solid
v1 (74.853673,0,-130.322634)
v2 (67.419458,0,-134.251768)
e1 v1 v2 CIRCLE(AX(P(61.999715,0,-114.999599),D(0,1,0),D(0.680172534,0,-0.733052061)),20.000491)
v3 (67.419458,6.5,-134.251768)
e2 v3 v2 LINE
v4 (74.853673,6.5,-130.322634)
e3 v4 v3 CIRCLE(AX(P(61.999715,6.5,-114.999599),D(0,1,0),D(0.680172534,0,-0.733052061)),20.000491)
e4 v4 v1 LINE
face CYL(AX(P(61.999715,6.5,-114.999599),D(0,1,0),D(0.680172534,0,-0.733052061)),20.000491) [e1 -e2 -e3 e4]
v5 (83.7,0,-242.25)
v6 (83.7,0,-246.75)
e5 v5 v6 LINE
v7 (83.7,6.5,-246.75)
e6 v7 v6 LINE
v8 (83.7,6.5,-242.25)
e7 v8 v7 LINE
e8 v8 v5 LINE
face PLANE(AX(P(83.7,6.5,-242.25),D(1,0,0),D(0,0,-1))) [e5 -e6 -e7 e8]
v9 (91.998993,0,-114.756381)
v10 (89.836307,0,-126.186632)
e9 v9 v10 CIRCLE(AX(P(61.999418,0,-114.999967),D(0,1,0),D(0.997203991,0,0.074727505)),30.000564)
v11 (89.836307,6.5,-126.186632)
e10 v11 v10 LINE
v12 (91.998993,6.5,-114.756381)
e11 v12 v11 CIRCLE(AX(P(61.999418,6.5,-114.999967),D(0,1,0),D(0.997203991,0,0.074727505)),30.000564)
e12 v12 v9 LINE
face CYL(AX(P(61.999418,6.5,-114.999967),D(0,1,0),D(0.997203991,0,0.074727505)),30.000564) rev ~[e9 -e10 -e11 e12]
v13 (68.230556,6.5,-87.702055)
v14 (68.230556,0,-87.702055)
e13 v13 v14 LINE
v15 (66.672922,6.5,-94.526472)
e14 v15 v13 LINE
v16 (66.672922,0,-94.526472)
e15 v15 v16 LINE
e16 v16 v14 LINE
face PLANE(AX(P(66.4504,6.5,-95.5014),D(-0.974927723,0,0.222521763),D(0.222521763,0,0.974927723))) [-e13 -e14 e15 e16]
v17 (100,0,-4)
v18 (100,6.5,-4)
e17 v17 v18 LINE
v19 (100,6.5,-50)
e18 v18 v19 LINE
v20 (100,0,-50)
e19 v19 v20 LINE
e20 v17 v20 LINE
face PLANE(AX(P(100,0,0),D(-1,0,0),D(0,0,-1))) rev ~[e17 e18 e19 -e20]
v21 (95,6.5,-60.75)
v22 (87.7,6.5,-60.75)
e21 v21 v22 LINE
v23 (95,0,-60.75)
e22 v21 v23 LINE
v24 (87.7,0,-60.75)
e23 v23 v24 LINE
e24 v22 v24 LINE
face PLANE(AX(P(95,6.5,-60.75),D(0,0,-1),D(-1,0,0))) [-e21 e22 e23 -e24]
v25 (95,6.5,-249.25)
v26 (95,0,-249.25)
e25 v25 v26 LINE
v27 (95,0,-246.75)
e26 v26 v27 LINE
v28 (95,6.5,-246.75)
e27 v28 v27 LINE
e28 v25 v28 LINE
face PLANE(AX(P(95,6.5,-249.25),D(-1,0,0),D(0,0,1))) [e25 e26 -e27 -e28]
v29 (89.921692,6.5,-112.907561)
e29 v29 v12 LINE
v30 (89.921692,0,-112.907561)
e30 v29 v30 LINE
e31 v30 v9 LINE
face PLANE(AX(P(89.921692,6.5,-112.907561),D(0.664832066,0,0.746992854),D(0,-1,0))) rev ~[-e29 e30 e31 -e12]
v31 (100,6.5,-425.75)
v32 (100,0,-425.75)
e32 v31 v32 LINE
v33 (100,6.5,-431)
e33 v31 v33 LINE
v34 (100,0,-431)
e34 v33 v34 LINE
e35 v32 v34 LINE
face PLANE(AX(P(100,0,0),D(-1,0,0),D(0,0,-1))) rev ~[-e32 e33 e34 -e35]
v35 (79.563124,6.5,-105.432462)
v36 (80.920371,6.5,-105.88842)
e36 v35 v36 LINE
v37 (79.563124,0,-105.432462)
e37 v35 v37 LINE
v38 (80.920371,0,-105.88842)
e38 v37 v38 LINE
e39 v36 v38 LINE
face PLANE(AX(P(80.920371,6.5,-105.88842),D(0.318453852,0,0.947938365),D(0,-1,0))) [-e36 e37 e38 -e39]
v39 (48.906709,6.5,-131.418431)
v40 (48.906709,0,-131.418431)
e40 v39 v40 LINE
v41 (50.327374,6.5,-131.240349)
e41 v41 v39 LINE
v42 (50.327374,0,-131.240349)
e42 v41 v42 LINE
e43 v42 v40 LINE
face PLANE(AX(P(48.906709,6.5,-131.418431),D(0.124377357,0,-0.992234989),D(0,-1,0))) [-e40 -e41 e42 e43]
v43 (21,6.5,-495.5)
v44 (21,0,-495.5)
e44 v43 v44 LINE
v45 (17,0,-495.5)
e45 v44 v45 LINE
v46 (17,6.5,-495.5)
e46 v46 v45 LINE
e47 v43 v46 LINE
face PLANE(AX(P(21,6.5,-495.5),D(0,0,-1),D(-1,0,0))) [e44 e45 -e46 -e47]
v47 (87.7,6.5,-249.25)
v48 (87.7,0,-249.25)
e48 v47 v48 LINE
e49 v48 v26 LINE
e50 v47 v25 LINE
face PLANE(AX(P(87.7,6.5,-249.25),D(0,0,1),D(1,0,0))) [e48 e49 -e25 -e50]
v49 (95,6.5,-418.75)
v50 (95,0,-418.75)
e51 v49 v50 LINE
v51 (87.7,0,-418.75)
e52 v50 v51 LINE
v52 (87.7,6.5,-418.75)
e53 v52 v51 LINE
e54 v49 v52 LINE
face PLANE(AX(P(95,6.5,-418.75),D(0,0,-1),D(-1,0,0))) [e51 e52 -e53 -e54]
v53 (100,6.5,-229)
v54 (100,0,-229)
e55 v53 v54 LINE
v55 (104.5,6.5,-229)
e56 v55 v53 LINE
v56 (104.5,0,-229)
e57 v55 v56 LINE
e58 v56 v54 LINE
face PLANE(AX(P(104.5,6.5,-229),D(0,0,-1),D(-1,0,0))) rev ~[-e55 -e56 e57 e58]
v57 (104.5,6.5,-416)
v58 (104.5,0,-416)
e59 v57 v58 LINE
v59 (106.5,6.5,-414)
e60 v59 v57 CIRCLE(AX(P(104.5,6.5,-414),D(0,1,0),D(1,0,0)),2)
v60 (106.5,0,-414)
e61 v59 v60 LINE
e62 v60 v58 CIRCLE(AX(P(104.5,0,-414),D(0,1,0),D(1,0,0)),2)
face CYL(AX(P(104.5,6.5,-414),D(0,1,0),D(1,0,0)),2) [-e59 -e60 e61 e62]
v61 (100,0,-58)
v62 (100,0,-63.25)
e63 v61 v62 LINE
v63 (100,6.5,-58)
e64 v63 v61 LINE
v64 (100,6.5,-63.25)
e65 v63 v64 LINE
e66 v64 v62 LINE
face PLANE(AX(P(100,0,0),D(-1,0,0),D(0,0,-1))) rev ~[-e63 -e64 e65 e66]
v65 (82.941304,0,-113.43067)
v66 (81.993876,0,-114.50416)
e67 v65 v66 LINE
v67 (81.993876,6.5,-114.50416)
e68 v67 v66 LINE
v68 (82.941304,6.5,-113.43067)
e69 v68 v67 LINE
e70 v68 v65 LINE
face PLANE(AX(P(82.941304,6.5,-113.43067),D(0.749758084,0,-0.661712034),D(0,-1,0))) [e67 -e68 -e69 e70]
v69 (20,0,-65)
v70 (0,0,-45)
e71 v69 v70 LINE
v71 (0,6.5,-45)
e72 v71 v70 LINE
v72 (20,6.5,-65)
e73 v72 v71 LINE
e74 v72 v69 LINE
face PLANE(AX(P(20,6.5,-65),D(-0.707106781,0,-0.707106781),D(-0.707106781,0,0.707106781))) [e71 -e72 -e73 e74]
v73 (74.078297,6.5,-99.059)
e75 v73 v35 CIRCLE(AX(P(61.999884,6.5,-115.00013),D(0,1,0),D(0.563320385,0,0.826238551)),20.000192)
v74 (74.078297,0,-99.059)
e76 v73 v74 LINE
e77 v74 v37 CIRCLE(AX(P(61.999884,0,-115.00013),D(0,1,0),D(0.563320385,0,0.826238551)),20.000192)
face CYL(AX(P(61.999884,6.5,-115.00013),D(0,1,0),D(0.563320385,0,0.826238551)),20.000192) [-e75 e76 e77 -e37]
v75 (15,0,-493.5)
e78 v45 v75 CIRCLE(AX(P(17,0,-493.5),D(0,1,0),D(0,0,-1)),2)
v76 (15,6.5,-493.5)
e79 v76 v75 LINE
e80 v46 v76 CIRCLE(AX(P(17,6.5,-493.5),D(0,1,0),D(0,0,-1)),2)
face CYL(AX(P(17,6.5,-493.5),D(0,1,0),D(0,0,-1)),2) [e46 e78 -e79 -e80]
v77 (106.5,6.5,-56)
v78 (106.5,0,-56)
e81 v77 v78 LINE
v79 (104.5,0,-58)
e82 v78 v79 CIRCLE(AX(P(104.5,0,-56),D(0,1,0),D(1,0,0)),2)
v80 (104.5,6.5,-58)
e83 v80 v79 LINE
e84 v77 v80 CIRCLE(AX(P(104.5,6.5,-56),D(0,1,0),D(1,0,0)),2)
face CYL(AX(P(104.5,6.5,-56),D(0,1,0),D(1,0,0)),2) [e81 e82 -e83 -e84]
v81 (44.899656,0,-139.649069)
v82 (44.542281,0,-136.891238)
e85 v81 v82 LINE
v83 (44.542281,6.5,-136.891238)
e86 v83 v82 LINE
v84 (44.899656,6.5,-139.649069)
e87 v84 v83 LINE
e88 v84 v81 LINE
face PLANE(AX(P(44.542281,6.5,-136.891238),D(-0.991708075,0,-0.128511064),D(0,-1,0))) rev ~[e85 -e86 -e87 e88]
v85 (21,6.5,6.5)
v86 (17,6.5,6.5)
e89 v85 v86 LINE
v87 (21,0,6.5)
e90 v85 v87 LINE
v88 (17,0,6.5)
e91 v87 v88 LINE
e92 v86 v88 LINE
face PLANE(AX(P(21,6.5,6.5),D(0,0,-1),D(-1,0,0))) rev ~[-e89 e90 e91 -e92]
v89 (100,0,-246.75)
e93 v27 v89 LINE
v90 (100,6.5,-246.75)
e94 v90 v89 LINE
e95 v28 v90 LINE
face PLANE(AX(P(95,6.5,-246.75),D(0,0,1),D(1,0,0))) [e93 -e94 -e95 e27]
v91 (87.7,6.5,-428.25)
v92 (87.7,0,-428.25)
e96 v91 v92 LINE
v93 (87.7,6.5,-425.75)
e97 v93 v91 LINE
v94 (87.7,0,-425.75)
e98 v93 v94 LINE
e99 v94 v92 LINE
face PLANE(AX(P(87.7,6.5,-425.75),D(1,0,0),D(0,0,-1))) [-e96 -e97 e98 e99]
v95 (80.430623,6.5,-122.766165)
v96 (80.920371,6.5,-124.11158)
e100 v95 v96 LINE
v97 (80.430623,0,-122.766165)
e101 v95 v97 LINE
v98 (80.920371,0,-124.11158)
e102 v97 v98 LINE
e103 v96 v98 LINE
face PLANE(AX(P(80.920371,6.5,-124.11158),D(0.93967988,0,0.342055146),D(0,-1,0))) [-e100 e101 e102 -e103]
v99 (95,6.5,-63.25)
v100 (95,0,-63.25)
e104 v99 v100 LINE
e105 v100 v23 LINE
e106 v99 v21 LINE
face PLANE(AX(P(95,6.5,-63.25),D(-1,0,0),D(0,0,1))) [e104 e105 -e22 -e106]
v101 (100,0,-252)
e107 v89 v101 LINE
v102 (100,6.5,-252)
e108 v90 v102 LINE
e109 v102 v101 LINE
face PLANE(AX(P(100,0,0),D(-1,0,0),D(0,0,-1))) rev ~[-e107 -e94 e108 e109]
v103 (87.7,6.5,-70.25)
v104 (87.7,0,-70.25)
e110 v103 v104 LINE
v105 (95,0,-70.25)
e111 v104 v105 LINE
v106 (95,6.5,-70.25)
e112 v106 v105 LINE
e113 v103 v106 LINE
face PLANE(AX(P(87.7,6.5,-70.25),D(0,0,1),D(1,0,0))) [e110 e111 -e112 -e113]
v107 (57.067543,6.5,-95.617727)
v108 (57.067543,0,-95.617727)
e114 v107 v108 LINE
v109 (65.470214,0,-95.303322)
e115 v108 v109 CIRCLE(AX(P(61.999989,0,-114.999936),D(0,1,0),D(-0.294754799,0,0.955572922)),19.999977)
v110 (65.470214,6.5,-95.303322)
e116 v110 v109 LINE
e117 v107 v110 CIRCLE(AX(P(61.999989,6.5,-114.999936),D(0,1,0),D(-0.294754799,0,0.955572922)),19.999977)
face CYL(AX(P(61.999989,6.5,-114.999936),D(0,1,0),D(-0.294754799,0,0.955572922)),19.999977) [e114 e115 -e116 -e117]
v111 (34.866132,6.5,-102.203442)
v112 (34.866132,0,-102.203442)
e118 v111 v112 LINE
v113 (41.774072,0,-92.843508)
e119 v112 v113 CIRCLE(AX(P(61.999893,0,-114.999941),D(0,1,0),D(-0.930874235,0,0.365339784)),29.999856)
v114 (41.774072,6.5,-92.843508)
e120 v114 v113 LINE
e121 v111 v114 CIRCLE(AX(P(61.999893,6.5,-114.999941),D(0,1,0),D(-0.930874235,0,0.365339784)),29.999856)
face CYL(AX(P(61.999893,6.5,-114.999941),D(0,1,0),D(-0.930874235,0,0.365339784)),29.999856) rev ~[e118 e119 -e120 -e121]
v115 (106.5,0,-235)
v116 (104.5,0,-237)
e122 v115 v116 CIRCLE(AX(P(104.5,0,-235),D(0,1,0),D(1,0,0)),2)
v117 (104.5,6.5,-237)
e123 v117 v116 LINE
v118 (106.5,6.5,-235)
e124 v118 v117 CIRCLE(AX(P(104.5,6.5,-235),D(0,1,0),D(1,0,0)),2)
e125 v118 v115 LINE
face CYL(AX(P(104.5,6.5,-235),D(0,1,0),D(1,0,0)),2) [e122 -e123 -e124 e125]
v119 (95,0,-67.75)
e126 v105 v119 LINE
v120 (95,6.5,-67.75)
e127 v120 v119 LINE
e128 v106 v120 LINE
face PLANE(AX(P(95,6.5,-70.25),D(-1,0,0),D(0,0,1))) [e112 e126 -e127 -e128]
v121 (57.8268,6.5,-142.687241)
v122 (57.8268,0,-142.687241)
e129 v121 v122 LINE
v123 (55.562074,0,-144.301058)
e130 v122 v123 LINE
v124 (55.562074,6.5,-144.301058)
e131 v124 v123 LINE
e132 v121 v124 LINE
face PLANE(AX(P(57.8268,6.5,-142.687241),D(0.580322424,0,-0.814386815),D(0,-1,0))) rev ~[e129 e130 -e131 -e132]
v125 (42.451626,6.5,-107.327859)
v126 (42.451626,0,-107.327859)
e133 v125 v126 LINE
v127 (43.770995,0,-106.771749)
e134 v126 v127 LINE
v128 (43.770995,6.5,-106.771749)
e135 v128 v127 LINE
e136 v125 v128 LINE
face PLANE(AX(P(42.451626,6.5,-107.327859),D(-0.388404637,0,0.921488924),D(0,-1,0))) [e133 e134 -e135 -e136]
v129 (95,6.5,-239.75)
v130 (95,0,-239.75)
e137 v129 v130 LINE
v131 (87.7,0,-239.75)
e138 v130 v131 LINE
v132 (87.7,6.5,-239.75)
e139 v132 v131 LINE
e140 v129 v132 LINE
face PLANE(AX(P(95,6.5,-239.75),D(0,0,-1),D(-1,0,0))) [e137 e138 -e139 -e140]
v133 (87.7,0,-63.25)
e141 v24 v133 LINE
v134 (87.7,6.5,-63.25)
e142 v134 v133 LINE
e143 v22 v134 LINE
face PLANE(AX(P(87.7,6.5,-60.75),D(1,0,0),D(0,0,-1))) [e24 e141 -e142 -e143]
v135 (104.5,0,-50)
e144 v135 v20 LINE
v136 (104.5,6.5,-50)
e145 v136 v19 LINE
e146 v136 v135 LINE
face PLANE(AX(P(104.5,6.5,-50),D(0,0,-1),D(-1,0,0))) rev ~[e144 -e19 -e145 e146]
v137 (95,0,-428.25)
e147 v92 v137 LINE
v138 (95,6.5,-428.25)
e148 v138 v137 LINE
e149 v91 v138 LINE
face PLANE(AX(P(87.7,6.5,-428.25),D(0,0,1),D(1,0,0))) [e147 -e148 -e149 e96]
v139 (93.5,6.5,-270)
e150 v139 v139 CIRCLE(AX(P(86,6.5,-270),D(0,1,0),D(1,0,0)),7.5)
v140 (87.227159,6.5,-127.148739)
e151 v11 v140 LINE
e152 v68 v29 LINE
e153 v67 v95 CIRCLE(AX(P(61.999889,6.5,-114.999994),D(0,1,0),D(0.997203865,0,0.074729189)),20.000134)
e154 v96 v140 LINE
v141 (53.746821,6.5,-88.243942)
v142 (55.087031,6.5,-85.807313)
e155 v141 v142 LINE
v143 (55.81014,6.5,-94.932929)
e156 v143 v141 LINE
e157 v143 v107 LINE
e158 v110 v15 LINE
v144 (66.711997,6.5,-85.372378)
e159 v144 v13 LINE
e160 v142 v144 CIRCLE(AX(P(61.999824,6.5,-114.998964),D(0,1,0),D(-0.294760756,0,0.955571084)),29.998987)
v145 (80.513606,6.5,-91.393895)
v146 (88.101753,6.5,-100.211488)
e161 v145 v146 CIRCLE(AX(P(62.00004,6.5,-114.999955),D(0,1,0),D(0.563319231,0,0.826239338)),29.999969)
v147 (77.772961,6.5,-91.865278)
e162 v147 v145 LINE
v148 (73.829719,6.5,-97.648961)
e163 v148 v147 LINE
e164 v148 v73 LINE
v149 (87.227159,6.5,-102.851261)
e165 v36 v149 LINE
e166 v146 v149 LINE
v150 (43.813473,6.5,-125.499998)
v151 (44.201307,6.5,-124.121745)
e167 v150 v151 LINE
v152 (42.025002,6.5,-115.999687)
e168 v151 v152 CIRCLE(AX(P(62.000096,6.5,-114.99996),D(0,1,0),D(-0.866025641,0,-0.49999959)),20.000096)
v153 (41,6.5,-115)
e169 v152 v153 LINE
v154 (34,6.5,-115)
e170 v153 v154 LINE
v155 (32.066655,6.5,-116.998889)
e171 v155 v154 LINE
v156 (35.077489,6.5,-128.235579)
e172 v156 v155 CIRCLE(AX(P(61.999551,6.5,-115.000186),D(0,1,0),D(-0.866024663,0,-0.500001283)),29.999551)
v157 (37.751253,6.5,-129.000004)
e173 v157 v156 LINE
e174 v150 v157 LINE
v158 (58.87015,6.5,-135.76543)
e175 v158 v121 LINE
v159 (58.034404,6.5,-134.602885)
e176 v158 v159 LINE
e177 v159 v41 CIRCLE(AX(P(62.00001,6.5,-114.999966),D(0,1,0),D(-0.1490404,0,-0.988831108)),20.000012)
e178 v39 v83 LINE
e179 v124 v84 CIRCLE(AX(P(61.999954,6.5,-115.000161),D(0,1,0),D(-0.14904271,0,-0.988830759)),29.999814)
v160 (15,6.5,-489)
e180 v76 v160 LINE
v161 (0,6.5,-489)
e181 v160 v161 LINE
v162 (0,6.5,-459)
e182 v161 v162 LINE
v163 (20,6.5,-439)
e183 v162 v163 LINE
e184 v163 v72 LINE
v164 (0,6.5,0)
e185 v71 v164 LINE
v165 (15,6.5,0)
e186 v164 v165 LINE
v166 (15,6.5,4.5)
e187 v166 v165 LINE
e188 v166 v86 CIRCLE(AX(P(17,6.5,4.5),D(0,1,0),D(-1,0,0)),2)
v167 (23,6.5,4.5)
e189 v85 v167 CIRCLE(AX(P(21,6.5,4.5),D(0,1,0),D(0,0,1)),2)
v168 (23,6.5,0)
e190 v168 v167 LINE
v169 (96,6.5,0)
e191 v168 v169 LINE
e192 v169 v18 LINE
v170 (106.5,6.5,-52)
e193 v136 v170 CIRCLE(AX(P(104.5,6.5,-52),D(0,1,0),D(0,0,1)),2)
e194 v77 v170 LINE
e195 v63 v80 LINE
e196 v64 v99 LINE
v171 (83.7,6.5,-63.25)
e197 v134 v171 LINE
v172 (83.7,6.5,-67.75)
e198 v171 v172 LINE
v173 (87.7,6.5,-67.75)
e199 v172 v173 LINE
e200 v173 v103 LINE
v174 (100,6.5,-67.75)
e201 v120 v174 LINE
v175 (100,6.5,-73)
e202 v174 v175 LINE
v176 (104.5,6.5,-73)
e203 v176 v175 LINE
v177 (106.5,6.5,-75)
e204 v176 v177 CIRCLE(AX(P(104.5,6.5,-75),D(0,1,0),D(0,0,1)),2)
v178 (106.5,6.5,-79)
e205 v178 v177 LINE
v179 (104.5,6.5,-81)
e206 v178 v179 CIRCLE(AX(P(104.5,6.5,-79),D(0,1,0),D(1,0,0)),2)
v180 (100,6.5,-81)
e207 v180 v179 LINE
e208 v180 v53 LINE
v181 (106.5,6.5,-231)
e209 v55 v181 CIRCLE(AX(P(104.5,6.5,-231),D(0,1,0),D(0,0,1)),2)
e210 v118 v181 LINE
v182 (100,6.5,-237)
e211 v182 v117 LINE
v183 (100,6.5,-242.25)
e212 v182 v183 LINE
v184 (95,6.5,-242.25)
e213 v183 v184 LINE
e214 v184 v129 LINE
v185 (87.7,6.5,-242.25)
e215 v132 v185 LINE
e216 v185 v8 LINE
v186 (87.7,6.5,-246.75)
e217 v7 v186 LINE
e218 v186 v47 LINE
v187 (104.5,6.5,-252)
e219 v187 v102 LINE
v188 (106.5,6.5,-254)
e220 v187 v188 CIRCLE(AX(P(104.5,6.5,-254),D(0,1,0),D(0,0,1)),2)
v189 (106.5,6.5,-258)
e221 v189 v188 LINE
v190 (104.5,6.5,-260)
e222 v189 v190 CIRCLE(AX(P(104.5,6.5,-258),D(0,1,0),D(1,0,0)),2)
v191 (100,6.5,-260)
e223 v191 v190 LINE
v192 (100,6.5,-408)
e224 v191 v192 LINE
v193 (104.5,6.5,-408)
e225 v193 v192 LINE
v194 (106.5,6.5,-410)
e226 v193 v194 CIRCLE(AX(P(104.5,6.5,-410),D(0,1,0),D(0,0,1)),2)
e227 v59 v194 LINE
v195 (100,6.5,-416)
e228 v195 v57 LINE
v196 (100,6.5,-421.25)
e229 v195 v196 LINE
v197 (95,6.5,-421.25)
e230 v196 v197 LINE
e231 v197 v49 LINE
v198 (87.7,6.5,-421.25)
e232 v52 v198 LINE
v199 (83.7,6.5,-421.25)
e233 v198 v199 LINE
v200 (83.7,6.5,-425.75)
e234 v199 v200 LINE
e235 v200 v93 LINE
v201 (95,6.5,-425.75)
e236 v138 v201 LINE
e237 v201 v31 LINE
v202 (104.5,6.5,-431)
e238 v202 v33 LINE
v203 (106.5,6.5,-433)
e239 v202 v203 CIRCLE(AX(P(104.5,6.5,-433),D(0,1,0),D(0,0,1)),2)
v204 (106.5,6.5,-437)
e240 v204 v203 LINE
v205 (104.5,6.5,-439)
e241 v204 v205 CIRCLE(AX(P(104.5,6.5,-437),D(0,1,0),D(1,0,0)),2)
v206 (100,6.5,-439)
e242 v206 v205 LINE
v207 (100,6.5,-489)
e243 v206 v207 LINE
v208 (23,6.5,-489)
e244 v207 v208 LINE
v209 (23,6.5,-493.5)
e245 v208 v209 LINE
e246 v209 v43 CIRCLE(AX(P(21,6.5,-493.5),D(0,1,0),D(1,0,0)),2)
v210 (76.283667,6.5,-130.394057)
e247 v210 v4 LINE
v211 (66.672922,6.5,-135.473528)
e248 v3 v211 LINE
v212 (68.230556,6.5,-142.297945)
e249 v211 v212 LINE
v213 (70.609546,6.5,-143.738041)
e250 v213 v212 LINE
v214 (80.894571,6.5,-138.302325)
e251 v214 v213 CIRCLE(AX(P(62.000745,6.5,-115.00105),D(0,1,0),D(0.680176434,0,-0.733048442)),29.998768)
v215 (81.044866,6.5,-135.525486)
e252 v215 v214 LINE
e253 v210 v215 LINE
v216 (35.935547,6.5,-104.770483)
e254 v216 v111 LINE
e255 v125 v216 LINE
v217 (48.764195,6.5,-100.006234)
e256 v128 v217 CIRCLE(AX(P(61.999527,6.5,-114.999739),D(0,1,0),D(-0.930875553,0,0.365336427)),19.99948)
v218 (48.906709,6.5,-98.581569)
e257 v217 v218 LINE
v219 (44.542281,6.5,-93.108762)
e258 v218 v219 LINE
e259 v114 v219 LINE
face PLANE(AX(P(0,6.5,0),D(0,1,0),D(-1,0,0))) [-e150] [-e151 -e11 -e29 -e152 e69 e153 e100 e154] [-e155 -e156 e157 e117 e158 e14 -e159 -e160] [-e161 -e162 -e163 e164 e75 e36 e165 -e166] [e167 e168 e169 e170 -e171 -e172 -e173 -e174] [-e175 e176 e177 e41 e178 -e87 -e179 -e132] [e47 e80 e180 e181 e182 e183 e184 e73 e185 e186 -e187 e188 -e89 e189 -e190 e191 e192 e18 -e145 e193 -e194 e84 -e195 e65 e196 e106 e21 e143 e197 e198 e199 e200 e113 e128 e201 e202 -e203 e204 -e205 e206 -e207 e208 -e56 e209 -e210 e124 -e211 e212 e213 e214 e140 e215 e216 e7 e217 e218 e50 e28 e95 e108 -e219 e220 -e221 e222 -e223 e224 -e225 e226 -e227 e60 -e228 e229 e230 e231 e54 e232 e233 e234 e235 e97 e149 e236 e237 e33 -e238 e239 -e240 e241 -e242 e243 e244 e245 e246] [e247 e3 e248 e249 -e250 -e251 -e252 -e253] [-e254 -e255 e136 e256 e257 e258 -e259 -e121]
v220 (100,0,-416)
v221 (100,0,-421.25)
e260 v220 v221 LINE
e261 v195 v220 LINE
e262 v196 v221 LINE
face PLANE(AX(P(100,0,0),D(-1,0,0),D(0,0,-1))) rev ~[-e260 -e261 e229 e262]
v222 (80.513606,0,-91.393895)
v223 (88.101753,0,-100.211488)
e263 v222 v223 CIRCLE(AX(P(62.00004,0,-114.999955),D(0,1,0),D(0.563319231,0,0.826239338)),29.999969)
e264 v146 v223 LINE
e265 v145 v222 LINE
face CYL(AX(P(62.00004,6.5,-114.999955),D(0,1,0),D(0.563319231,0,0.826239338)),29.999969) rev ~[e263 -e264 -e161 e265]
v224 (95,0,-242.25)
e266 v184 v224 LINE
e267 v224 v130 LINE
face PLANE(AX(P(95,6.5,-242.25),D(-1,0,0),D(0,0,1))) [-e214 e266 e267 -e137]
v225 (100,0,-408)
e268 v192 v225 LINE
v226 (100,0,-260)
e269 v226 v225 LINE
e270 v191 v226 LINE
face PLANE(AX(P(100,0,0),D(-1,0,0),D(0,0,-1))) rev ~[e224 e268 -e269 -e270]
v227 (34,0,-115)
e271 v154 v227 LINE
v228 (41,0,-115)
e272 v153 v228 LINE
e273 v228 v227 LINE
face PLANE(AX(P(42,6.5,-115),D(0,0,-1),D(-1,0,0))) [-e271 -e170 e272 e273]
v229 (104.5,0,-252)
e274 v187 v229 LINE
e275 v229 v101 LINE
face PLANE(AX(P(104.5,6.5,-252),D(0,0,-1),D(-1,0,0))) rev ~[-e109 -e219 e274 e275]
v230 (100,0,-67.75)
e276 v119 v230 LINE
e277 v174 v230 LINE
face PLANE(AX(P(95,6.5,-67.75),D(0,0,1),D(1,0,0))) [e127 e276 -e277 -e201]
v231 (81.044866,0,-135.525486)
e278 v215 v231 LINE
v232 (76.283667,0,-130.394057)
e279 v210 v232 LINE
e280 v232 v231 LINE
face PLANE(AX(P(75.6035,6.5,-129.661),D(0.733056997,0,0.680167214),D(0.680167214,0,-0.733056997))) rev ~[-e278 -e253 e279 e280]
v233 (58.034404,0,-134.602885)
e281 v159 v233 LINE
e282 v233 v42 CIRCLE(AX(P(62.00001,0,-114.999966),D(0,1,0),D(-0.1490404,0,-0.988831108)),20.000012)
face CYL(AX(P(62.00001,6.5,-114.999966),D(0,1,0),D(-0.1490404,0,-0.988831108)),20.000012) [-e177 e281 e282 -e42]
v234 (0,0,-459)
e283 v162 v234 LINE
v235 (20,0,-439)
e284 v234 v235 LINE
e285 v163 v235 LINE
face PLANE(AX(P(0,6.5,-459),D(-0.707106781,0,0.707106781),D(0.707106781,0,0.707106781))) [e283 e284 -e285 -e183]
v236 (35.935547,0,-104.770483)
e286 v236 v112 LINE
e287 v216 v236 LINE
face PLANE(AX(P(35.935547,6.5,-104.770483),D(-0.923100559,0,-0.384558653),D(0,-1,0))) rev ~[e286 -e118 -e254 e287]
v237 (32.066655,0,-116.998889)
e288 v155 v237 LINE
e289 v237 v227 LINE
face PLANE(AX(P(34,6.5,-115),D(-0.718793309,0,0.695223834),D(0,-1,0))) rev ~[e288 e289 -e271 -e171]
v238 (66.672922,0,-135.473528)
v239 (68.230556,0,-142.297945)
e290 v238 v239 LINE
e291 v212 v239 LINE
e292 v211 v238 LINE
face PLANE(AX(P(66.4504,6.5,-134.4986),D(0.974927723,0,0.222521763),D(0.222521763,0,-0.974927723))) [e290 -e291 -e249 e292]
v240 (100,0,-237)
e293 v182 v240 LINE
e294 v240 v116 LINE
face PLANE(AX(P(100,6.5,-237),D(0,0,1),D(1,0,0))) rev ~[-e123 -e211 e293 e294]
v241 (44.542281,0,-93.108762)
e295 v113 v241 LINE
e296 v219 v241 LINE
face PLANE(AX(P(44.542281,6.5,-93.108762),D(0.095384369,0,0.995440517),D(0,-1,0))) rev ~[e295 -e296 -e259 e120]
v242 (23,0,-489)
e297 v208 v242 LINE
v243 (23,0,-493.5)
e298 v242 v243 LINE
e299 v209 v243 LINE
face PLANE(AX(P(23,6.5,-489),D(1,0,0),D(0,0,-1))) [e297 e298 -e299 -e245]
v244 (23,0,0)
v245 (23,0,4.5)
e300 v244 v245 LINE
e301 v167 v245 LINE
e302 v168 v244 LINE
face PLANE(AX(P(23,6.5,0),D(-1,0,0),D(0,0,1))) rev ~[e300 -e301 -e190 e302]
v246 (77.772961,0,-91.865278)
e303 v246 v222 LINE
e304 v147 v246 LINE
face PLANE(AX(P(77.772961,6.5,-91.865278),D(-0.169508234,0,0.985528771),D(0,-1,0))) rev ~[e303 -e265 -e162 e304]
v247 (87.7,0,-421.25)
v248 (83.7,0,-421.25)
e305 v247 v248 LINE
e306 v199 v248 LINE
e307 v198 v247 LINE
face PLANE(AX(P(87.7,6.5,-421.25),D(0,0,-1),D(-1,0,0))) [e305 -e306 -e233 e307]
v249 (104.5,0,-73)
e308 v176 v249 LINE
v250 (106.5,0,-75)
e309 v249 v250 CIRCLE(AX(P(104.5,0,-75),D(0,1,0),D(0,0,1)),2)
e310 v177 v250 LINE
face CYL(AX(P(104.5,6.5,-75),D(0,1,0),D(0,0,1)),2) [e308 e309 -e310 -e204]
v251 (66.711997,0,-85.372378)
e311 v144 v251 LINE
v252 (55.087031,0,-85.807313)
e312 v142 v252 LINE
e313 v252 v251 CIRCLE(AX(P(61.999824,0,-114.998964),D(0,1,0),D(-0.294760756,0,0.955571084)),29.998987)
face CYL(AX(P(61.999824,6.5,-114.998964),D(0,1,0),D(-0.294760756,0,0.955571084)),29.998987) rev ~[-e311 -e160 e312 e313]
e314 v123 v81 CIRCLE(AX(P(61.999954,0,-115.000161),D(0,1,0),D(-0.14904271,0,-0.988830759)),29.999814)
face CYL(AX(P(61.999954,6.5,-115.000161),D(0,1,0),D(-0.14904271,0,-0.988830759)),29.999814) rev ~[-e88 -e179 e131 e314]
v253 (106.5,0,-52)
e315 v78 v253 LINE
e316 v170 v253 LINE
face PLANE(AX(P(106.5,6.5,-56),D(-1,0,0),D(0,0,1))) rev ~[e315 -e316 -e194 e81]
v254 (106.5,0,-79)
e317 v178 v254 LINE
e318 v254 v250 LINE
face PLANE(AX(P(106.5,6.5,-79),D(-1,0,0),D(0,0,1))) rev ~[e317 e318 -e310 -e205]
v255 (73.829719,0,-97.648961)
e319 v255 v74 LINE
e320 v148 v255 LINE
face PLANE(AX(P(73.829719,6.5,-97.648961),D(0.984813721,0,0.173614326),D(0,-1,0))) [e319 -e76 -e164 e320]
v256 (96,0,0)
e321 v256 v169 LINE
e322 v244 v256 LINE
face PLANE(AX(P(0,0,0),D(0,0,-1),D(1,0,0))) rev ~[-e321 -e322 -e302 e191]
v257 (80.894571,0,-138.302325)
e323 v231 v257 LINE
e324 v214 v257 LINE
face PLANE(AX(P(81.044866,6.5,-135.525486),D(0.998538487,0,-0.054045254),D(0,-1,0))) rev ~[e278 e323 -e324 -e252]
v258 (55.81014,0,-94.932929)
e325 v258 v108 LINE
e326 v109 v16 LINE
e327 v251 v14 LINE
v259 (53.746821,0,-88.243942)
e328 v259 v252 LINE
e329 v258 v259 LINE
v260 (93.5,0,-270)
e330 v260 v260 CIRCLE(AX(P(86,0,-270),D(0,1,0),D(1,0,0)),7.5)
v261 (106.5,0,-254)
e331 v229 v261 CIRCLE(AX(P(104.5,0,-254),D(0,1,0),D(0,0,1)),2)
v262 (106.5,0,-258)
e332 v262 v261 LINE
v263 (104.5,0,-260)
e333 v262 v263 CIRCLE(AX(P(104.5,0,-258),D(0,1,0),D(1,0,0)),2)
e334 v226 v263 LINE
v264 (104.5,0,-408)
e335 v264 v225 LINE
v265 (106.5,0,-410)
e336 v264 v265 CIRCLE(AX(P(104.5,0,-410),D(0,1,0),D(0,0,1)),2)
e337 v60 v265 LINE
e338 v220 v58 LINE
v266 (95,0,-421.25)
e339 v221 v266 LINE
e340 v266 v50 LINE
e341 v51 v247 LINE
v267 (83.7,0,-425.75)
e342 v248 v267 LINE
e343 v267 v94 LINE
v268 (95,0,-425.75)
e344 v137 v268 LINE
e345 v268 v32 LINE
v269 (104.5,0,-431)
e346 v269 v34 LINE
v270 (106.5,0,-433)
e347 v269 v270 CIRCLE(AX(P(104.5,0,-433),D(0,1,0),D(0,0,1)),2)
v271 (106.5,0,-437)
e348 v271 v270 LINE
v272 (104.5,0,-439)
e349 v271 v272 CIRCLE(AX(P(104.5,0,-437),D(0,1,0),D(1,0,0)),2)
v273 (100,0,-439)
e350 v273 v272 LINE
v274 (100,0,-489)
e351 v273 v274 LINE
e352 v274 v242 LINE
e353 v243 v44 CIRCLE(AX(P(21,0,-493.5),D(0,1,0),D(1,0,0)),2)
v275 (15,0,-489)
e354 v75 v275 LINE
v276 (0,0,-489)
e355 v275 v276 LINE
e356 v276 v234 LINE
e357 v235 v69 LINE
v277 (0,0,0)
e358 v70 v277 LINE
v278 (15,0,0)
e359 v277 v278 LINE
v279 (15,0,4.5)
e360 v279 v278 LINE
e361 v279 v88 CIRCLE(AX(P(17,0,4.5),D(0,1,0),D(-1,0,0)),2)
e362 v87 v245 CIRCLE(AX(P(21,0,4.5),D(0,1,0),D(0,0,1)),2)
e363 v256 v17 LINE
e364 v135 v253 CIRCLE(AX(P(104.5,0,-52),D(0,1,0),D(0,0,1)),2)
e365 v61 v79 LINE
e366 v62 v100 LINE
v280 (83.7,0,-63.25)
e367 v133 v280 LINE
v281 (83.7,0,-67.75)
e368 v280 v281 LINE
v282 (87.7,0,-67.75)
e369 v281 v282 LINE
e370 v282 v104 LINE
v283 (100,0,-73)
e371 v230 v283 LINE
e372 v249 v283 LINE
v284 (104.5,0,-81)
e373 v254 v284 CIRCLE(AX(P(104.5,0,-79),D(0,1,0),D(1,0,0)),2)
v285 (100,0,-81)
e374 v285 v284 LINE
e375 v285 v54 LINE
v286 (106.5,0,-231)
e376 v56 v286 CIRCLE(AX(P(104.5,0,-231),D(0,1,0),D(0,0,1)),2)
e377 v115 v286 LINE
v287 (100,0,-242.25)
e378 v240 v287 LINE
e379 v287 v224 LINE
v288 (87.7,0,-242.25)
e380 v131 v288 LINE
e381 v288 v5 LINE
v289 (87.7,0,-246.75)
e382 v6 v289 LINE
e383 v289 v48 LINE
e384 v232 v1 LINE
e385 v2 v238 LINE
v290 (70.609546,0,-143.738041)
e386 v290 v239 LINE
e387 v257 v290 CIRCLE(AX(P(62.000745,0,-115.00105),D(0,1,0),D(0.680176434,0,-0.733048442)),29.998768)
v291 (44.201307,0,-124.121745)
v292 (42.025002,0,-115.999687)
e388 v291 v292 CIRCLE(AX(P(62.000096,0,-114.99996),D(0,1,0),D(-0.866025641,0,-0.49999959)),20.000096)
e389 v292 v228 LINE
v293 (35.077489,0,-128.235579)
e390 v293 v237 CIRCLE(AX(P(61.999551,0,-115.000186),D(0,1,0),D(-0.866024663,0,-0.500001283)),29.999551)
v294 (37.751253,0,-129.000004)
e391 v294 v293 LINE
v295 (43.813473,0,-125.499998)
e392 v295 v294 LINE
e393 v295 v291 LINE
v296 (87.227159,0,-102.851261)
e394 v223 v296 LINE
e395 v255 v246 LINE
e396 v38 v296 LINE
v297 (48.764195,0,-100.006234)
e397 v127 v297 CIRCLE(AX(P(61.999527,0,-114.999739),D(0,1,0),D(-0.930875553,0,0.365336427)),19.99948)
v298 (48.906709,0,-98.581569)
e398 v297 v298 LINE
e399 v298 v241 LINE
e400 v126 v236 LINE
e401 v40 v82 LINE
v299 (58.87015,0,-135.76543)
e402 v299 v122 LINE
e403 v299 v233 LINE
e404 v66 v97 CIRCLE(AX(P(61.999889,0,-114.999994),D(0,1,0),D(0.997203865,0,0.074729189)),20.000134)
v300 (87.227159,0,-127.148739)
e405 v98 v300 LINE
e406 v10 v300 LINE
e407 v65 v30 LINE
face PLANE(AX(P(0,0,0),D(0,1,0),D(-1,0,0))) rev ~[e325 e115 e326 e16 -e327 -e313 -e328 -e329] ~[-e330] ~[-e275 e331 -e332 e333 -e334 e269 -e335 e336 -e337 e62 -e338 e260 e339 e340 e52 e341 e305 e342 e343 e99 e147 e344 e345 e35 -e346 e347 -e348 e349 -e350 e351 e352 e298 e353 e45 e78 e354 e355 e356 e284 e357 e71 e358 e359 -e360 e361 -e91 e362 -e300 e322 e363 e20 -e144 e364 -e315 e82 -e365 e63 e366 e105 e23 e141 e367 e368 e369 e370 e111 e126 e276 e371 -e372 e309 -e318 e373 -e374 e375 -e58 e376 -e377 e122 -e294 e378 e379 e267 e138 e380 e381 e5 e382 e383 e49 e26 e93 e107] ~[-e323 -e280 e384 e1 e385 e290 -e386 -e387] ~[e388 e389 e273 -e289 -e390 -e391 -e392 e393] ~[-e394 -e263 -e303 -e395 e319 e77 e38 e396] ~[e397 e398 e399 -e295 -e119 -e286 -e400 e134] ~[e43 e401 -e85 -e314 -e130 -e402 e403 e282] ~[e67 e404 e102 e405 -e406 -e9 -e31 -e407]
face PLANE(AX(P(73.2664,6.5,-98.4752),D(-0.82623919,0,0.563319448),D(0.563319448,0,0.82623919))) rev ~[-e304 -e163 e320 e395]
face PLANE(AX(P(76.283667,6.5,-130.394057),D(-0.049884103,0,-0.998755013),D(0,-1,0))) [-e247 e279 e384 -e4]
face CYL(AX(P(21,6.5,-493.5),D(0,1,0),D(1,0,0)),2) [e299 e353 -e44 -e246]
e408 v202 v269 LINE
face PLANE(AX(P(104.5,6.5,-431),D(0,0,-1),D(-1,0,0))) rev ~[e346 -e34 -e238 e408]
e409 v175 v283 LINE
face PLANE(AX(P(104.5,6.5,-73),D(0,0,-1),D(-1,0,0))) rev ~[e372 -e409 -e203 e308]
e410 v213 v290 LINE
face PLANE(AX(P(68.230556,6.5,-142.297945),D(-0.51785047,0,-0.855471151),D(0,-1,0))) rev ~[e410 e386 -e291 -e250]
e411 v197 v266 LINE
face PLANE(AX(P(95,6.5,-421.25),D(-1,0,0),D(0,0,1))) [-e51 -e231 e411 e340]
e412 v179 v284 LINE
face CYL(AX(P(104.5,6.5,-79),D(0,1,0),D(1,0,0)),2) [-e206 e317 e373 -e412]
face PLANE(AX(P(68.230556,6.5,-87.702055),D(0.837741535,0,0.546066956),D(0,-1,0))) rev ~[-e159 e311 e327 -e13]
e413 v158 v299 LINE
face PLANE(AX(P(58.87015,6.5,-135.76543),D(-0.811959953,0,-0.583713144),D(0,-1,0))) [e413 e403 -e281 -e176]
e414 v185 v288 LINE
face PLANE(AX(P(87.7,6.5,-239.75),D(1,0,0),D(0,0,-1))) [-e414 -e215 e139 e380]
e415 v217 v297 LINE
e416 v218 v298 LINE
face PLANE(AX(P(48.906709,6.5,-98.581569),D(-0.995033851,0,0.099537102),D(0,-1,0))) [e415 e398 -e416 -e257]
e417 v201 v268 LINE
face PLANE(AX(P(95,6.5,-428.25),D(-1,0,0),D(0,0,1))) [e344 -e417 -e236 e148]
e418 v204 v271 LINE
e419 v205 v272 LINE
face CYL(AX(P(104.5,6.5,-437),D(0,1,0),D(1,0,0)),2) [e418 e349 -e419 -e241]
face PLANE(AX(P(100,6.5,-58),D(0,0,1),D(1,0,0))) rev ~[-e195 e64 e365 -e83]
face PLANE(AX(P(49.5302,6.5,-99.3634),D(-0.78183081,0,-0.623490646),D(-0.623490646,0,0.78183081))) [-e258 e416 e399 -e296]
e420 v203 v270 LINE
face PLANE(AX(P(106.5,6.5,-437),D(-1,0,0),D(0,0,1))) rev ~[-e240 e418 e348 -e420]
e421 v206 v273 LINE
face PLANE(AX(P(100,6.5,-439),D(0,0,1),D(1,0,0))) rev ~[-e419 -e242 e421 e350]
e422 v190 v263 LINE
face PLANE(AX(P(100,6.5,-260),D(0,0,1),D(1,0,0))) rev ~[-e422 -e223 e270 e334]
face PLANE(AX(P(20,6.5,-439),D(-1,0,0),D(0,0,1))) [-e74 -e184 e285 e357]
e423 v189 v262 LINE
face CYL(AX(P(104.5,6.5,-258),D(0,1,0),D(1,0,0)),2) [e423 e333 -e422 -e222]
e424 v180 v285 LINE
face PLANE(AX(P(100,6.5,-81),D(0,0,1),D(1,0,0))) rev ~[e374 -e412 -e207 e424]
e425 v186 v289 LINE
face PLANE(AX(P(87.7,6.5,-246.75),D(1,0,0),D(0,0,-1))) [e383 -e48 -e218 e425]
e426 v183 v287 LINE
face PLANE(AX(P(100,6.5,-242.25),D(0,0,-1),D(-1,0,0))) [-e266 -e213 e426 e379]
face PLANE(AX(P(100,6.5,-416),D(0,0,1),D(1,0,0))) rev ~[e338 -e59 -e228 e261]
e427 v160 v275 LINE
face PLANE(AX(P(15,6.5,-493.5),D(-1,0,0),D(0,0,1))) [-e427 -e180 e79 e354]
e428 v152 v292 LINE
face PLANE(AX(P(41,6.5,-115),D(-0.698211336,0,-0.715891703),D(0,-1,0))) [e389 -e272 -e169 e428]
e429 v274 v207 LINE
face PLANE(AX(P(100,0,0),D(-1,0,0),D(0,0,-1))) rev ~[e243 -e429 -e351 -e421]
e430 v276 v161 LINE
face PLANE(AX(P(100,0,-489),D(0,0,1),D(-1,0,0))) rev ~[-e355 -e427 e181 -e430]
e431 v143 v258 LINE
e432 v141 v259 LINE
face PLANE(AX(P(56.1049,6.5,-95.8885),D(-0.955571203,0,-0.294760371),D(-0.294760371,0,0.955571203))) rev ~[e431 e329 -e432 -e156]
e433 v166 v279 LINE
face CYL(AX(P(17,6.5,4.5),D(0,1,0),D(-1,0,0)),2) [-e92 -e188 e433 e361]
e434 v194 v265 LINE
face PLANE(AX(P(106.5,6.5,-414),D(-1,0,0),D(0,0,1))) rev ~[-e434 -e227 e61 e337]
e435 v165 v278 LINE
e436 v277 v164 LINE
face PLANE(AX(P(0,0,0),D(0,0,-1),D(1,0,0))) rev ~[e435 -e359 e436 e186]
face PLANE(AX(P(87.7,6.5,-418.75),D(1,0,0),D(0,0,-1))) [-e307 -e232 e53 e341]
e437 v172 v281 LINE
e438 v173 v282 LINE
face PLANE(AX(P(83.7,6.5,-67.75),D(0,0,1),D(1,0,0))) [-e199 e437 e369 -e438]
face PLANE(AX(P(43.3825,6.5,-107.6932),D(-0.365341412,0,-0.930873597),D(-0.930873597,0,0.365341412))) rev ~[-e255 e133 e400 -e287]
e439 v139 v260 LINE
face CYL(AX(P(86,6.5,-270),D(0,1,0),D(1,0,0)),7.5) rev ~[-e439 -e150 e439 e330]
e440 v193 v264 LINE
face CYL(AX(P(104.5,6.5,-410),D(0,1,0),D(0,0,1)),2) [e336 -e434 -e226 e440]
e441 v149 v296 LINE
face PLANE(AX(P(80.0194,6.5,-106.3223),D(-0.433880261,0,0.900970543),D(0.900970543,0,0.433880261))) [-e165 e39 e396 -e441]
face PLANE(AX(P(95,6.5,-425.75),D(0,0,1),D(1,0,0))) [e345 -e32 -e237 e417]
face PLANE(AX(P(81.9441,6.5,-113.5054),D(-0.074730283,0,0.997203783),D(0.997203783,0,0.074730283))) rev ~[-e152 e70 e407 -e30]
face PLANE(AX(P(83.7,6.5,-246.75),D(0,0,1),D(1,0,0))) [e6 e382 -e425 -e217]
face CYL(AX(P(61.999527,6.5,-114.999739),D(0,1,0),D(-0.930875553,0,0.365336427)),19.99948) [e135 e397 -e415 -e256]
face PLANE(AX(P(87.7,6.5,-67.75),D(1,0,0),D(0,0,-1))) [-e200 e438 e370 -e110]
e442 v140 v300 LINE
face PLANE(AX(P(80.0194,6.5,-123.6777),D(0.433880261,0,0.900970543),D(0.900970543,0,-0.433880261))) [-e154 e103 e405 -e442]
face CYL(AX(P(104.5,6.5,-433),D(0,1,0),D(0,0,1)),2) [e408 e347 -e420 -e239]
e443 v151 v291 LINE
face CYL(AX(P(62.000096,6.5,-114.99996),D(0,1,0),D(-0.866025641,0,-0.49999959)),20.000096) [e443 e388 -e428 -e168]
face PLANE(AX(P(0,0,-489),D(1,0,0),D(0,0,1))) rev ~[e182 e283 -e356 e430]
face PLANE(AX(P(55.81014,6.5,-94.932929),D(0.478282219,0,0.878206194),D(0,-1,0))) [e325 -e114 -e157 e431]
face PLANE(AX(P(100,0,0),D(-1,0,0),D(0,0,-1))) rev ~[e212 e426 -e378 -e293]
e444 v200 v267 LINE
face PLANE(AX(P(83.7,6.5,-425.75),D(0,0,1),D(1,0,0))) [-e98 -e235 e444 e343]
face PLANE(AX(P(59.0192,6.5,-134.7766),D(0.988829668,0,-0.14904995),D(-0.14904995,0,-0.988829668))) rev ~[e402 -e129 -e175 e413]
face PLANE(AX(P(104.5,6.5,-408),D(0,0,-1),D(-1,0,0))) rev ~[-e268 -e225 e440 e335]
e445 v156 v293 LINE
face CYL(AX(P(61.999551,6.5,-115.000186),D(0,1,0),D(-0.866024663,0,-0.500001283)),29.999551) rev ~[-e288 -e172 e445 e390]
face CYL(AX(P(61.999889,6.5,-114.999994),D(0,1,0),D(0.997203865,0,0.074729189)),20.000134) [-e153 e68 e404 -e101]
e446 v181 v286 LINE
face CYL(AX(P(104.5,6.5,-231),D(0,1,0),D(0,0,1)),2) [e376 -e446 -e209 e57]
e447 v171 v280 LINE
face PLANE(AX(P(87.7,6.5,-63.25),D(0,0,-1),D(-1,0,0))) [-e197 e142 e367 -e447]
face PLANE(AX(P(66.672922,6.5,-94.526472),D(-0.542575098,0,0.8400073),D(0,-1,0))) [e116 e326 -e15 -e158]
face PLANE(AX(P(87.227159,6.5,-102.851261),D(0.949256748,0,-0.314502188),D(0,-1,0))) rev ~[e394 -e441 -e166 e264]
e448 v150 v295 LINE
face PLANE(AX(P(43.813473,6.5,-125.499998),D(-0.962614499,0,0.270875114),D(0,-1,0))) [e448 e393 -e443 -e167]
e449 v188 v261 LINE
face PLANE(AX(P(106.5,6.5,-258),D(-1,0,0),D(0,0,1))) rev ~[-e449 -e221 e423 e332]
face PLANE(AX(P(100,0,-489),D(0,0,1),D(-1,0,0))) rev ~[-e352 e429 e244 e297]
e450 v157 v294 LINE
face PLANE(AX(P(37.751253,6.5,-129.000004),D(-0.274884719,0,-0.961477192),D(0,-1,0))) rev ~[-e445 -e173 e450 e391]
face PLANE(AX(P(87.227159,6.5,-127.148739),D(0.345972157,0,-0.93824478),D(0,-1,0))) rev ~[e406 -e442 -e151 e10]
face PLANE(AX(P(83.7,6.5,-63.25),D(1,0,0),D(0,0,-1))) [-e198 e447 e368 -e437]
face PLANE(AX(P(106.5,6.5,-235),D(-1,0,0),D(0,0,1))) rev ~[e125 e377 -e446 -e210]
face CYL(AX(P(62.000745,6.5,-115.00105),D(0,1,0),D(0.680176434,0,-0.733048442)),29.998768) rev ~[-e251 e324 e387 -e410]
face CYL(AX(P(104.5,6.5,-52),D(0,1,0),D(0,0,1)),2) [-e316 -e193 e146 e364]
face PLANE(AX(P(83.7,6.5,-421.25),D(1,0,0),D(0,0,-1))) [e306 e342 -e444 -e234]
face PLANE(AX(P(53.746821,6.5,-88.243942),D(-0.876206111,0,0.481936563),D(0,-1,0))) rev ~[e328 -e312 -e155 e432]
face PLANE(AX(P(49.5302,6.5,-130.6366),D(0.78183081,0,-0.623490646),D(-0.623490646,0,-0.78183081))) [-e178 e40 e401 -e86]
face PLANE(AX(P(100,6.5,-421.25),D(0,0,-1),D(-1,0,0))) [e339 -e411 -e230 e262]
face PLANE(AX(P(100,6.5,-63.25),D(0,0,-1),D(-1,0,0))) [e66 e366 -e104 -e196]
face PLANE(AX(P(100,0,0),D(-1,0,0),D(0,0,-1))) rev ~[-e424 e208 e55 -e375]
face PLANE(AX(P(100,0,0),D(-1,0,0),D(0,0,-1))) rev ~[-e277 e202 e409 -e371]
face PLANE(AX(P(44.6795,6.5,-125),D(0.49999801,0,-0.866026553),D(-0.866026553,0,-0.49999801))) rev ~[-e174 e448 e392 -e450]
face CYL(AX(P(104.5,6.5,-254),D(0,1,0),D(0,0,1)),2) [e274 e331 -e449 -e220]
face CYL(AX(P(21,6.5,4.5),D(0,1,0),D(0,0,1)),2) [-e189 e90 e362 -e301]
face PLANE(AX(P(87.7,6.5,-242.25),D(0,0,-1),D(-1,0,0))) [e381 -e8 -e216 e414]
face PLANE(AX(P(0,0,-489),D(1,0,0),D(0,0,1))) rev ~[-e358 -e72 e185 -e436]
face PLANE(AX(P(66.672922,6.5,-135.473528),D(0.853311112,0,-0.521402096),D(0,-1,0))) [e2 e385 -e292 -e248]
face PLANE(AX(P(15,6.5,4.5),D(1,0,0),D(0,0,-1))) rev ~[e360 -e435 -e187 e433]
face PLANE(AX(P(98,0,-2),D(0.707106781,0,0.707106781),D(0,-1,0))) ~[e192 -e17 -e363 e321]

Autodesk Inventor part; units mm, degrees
ref_plane "YZ Plane" through (0, 0, 0) normal (1, 0, 0) x (0, 1, 0)
ref_plane "XZ Plane" through (0, 0, 0) normal (0, 1, 0) x (-1, 0, 0)
ref_plane "XY Plane" through (0, 0, 0) normal (0, 0, 1) x (1, 0, 0)
sketch "Sketch1" plane through (0, 0, 0) normal (0, 1, 0) x (-1, 0, 0)
  line L0 (0, 0) -> (-100, 0)
  line L1 (-100, 0) -> (-100, -489)
  line L2 (-100, -489) -> (0, -489)
  line L3 (0, -489) -> (0, 0)
  dimension "d0" = 489
  dimension "d1" = 100
extrude "Extrusion1" add sketch "Sketch1" along normal blind 6.5
sketch "Sketch2" plane through (0, 6.5, 0) normal (0, 1, 0) x (1, 0, 0)
  line L0 (0, 489) -> (0, 0) projected
  line L1 (0, 459) -> (20, 439)
  line L2 (20, 439) -> (20, 65)
  line L3 (20, 65) -> (0, 45)
  line L4 (0, 459) -> (0, 45)
  dimension "d4" = 45
  dimension "d5" = 20
  dimension "d6" = 30
  dimension "d7" = 45
extrude "Extrusion2" cut sketch "Sketch2" against normal through all
sketch "Sketch3" plane through (0, 6.5, 0) normal (0, 1, 0) x (1, 0, 0)
  line L0 (0, 0) -> (100, 0) projected
  line L1 (100, 0) -> (100, 489) projected
  line L2 (100, 489) -> (0, 489) projected
  line L3 (100, 425.75) -> (100, 421.25)
  line L4 (83.7, 421.25) -> (83.7, 425.75)
  line L5 (87.7, 428.25) -> (95, 428.25)
  line L6 (95, 418.75) -> (87.7, 418.75)
  line L7 (83.7, 425.75) -> (87.7, 425.75)
  line L8 (95, 425.75) -> (100, 425.75)
  line L9 (87.7, 418.75) -> (87.7, 421.25)
  line L10 (87.7, 425.75) -> (87.7, 428.25)
  line L11 (100, 421.25) -> (95, 421.25)
  line L12 (87.7, 421.25) -> (83.7, 421.25)
  line L13 (95, 428.25) -> (95, 425.75)
  line L14 (95, 421.25) -> (95, 418.75)
  line L15 (100, 246.75) -> (100, 242.25)
  line L16 (83.7, 242.25) -> (83.7, 246.75)
  line L17 (87.7, 249.25) -> (95, 249.25)
  line L18 (95, 239.75) -> (87.7, 239.75)
  line L19 (83.7, 246.75) -> (87.7, 246.75)
  line L20 (95, 246.75) -> (100, 246.75)
  line L21 (87.7, 239.75) -> (87.7, 242.25)
  line L22 (87.7, 246.75) -> (87.7, 249.25)
  line L23 (100, 242.25) -> (95, 242.25)
  line L24 (87.7, 242.25) -> (83.7, 242.25)
  line L25 (95, 249.25) -> (95, 246.75)
  line L26 (95, 242.25) -> (95, 239.75)
  line L27 (100, 67.75) -> (100, 63.25)
  line L28 (83.7, 63.25) -> (83.7, 67.75)
  line L29 (87.7, 70.25) -> (95, 70.25)
  line L30 (95, 60.75) -> (87.7, 60.75)
  line L31 (83.7, 67.75) -> (87.7, 67.75)
  line L32 (95, 67.75) -> (100, 67.75)
  line L33 (87.7, 60.75) -> (87.7, 63.25)
  line L34 (87.7, 67.75) -> (87.7, 70.25)
  line L35 (100, 63.25) -> (95, 63.25)
  line L36 (87.7, 63.25) -> (83.7, 63.25)
  line L37 (95, 70.25) -> (95, 67.75)
  line L38 (95, 63.25) -> (95, 60.75)
  line L39 (91.35, 418.75) -> (91.35, 249.25) construction
  line L40 (91.35, 239.75) -> (91.35, 70.25) construction
  point P0 (83.7, 423.5)
  point P1 (83.7, 244.5)
  point P2 (83.7, 65.5)
  dimension "d10" = 4.5
  dimension "d11" = 5
  dimension "d12" = 4
  dimension "d13" = 7.3
  dimension "d14" = 2.5
  dimension "d15" = 4.5
  dimension "d16" = 5
  dimension "d17" = 4
  dimension "d18" = 7.3
  dimension "d19" = 2.5
  dimension "d20" = 4.5
  dimension "d21" = 5
  dimension "d22" = 4
  dimension "d23" = 7.3
  dimension "d24" = 2.5
  dimension "d25" = 65.5
  dimension "d26" = 65.5
extrude "Extrusion3" cut sketch "Sketch3" against normal through all
sketch "Sketch4" plane through (0, 6.5, 0) normal (0, 1, 0) x (1, 0, 0)
  line L0 (83.7, 242.25) -> (83.7, 246.75) projected
  line L1 (100, 246.75) -> (100, 421.25) projected
  line L2 (83.7, 421.25) -> (83.7, 425.75) projected
  line L3 (100, 425.75) -> (100, 489) projected
  line L4 (100, 0) -> (100, 63.25) projected
  line L5 (83.7, 63.25) -> (83.7, 67.75) projected
  line L6 (100, 67.75) -> (100, 242.25) projected
  line L7 (100, 439) -> (104.5, 439)
  line L8 (106.5, 437) -> (106.5, 433)
  line L9 (104.5, 431) -> (100, 431)
  line L10 (100, 431) -> (100, 439)
  line L11 (100, 416) -> (104.5, 416)
  line L12 (106.5, 414) -> (106.5, 410)
  line L13 (104.5, 408) -> (100, 408)
  line L14 (100, 408) -> (100, 416)
  line L15 (100, 260) -> (104.5, 260)
  line L16 (106.5, 258) -> (106.5, 254)
  line L17 (104.5, 252) -> (100, 252)
  line L18 (100, 252) -> (100, 260)
  line L19 (100, 237) -> (104.5, 237)
  line L20 (106.5, 235) -> (106.5, 231)
  line L21 (104.5, 229) -> (100, 229)
  line L22 (100, 229) -> (100, 237)
  line L23 (100, 81) -> (104.5, 81)
  line L24 (106.5, 79) -> (106.5, 75)
  line L25 (104.5, 73) -> (100, 73)
  line L26 (100, 73) -> (100, 81)
  line L27 (100, 58) -> (104.5, 58)
  line L28 (106.5, 56) -> (106.5, 52)
  line L29 (104.5, 50) -> (100, 50)
  line L30 (100, 50) -> (100, 58)
  arc A0 (106.5, 437) -> (104.5, 439) centre (104.5, 437) ccw
  arc A1 (104.5, 431) -> (106.5, 433) centre (104.5, 433) ccw
  arc A2 (106.5, 414) -> (104.5, 416) centre (104.5, 414) ccw
  arc A3 (104.5, 408) -> (106.5, 410) centre (104.5, 410) ccw
  arc A4 (106.5, 258) -> (104.5, 260) centre (104.5, 258) ccw
  arc A5 (104.5, 252) -> (106.5, 254) centre (104.5, 254) ccw
  arc A6 (106.5, 235) -> (104.5, 237) centre (104.5, 235) ccw
  arc A7 (104.5, 229) -> (106.5, 231) centre (104.5, 231) ccw
  arc A8 (106.5, 79) -> (104.5, 81) centre (104.5, 79) ccw
  arc A9 (104.5, 73) -> (106.5, 75) centre (104.5, 75) ccw
  arc A10 (106.5, 56) -> (104.5, 58) centre (104.5, 56) ccw
  arc A11 (104.5, 50) -> (106.5, 52) centre (104.5, 52) ccw
  point P0 (83.7, 423.5)
  point P1 (83.7, 244.5)
  point P2 (83.7, 65.5)
  dimension "d29" = 2
  dimension "d30" = 6.5
  dimension "d31" = 8
  dimension "d32" = 8
  dimension "d33" = 8
  dimension "d34" = 8
  dimension "d37" = 8
  dimension "d38" = 8
  dimension "d39" = 15
  dimension "d40" = 15
  dimension "d41" = 15
  dimension "d42" = 7.5
  dimension "d43" = 7.5
  dimension "d44" = 7.5
extrude "Extrusion4" add sketch "Sketch4" against normal blind 6.5
sketch "Sketch5" plane through (0, 6.5, 0) normal (0, 1, 0) x (1, 0, 0)
  line L0 (100, 489) -> (0, 489) projected
  line L1 (0, 489) -> (0, 459) projected
  line L2 (0, 45) -> (0, 0) projected
  line L3 (0, 0) -> (100, 0) projected
  line L4 (15, 489) -> (23, 489)
  line L5 (23, 489) -> (23, 493.5)
  line L6 (21, 495.5) -> (17, 495.5)
  line L7 (15, 493.5) -> (15, 489)
  line L8 (15, 0) -> (23, 0)
  line L9 (23, 0) -> (23, -4.5)
  line L10 (21, -6.5) -> (17, -6.5)
  line L11 (15, -4.5) -> (15, 0)
  arc A0 (15, -4.5) -> (17, -6.5) centre (17, -4.5) ccw
  arc A1 (21, -6.5) -> (23, -4.5) centre (21, -4.5) ccw
  arc A2 (23, 493.5) -> (21, 495.5) centre (21, 493.5) ccw
  arc A3 (17, 495.5) -> (15, 493.5) centre (17, 493.5) ccw
  dimension "d47" = 2
  dimension "d48" = 8
  dimension "d49" = 6.5
  dimension "d50" = 15
  dimension "d51" = 8
  dimension "d52" = 6.5
  dimension "d53" = 15
extrude "Extrusion5" add sketch "Sketch5" against normal blind 6.5
sketch "Sketch6" plane through (0, 6.5, 0) normal (0, 1, 0) x (1, 0, 0)
  line L0 (100, 237) -> (100, 242.25) projected
  circle A0 centre (62, 115) radius 30 construction
  arc A1 (44.6795, 125) -> (42, 115) centre (62, 115) ccw
  arc A2 (36.0192, 130) -> (32, 115) centre (62, 115) ccw
  line L1 (42, 115) -> (32, 115)
  line L2 (44.6795, 125) -> (36.0192, 130)
  arc A3 (43.3825, 107.6932) -> (49.5302, 99.3634) centre (62, 115) ccw
  arc A4 (34.0738, 104.0398) -> (43.2953, 91.5451) centre (62, 115) ccw
  line L3 (49.5302, 99.3634) -> (43.2953, 91.5451)
  line L4 (43.3825, 107.6932) -> (34.0738, 104.0398)
  arc A5 (56.1049, 95.8885) -> (66.4504, 95.5014) centre (62, 115) ccw
  arc A6 (53.1573, 86.3328) -> (68.6756, 85.7522) centre (62, 115) ccw
  line L5 (66.4504, 95.5014) -> (68.6756, 85.7522)
  line L6 (56.1049, 95.8885) -> (53.1573, 86.3328)
  arc A7 (73.2664, 98.4752) -> (80.0194, 106.3223) centre (62, 115) ccw
  arc A8 (78.8996, 90.2128) -> (89.0291, 101.9835) centre (62, 115) ccw
  line L7 (80.0194, 106.3223) -> (89.0291, 101.9835)
  line L8 (73.2664, 98.4752) -> (78.8996, 90.2128)
  arc A9 (81.9441, 113.5054) -> (80.0194, 123.6777) centre (62, 115) ccw
  arc A10 (91.9161, 112.7581) -> (89.0291, 128.0165) centre (62, 115) ccw
  line L9 (80.0194, 123.6777) -> (89.0291, 128.0165)
  line L10 (81.9441, 113.5054) -> (91.9161, 112.7581)
  arc A11 (75.6035, 129.661) -> (66.4504, 134.4986) centre (62, 115) ccw
  arc A12 (82.4052, 136.9916) -> (68.6756, 144.2478) centre (62, 115) ccw
  line L11 (66.4504, 134.4986) -> (68.6756, 144.2478)
  line L12 (75.6035, 129.661) -> (82.4052, 136.9916)
  arc A13 (59.0192, 134.7766) -> (49.5302, 130.6366) centre (62, 115) ccw
  arc A14 (57.5287, 144.6649) -> (43.2953, 138.4549) centre (62, 115) ccw
  line L13 (49.5302, 130.6366) -> (43.2953, 138.4549)
  line L14 (59.0192, 134.7766) -> (57.5287, 144.6649)
  line L15 (100, 81) -> (100, 229) projected
  line L16 (23, 0) -> (100, 0) projected
  dimension "d56" = 60
  dimension "d57" = 30
  dimension "d59" = 20
  dimension "d62" = 360
  dimension "d72" = 38
  dimension "d74" = 30
  dimension "d75" = 115
extrude "Extrusion6" cut sketch "Sketch6" against normal through all
chamfer "Chamfer1" distance 2 angle 45 14 edges at (36.0192, 3.25, -130) (32, 3.25, -115) (43.2953, 3.25, -138.4549) (57.5287, 3.25, -144.6649) (68.6756, 3.25, -144.2478) (82.4052, 3.25, -136.9916) (89.0291, 3.25, -128.0165) (91.9161, 3.25, -112.7581) (78.8996, 3.25, -90.2128) (89.0291, 3.25, -101.9835) (68.6756, 3.25, -85.7522) (53.1573, 3.25, -86.3328) (43.2953, 3.25, -91.5451) (34.0738, 3.25, -104.0398)
chamfer "Chamfer2" distance 1 angle 45 14 edges at (43.3825, 3.25, -107.6932) (49.5302, 3.25, -99.3634) (56.1049, 3.25, -95.8885) (66.4504, 3.25, -95.5014) (73.2664, 3.25, -98.4752) (80.0194, 3.25, -106.3223) (81.9441, 3.25, -113.5054) (80.0194, 3.25, -123.6777) (42, 3.25, -115) (44.6795, 3.25, -125) (49.5302, 3.25, -130.6366) (59.0192, 3.25, -134.7766) (66.4504, 3.25, -134.4986) (75.6035, 3.25, -129.661)
sketch "Sketch7" plane through (0, 6.5, 0) normal (0, 1, 0) x (1, 0, 0)
  arc A0 (80.8945, 138.3023) -> (70.6096, 143.738) centre (62, 115) ccw projected
  line L0 (100, 260) -> (100, 408) projected
  circle A1 centre (86, 270) radius 7.5
  dimension "d76" = 15
  dimension "d77" = 14
  dimension "d78" = 155
extrude "Extrusion7" cut sketch "Sketch7" against normal through all
chamfer "Chamfer3" distance 4 angle 45 1 edges at (100, 3.25, 0)
equation "\"d26\" = d25"
equation "\"d32\" = d31"
equation "\"d33\" = d32"
equation "\"d34\" = d33"
equation "\"d37\" = d34"
equation "\"d38\" = d37"
equation "\"d42\" = 0.5 * d39"
equation "\"d43\" = 0.5 * d40"
equation "\"d44\" = 0.5 * d41"
equation "\"d51\" = d48"
equation "\"d52\" = d49"
equation "\"d53\" = d50"
properties part number "inner_brace_right" material "Plywood, Finish"
